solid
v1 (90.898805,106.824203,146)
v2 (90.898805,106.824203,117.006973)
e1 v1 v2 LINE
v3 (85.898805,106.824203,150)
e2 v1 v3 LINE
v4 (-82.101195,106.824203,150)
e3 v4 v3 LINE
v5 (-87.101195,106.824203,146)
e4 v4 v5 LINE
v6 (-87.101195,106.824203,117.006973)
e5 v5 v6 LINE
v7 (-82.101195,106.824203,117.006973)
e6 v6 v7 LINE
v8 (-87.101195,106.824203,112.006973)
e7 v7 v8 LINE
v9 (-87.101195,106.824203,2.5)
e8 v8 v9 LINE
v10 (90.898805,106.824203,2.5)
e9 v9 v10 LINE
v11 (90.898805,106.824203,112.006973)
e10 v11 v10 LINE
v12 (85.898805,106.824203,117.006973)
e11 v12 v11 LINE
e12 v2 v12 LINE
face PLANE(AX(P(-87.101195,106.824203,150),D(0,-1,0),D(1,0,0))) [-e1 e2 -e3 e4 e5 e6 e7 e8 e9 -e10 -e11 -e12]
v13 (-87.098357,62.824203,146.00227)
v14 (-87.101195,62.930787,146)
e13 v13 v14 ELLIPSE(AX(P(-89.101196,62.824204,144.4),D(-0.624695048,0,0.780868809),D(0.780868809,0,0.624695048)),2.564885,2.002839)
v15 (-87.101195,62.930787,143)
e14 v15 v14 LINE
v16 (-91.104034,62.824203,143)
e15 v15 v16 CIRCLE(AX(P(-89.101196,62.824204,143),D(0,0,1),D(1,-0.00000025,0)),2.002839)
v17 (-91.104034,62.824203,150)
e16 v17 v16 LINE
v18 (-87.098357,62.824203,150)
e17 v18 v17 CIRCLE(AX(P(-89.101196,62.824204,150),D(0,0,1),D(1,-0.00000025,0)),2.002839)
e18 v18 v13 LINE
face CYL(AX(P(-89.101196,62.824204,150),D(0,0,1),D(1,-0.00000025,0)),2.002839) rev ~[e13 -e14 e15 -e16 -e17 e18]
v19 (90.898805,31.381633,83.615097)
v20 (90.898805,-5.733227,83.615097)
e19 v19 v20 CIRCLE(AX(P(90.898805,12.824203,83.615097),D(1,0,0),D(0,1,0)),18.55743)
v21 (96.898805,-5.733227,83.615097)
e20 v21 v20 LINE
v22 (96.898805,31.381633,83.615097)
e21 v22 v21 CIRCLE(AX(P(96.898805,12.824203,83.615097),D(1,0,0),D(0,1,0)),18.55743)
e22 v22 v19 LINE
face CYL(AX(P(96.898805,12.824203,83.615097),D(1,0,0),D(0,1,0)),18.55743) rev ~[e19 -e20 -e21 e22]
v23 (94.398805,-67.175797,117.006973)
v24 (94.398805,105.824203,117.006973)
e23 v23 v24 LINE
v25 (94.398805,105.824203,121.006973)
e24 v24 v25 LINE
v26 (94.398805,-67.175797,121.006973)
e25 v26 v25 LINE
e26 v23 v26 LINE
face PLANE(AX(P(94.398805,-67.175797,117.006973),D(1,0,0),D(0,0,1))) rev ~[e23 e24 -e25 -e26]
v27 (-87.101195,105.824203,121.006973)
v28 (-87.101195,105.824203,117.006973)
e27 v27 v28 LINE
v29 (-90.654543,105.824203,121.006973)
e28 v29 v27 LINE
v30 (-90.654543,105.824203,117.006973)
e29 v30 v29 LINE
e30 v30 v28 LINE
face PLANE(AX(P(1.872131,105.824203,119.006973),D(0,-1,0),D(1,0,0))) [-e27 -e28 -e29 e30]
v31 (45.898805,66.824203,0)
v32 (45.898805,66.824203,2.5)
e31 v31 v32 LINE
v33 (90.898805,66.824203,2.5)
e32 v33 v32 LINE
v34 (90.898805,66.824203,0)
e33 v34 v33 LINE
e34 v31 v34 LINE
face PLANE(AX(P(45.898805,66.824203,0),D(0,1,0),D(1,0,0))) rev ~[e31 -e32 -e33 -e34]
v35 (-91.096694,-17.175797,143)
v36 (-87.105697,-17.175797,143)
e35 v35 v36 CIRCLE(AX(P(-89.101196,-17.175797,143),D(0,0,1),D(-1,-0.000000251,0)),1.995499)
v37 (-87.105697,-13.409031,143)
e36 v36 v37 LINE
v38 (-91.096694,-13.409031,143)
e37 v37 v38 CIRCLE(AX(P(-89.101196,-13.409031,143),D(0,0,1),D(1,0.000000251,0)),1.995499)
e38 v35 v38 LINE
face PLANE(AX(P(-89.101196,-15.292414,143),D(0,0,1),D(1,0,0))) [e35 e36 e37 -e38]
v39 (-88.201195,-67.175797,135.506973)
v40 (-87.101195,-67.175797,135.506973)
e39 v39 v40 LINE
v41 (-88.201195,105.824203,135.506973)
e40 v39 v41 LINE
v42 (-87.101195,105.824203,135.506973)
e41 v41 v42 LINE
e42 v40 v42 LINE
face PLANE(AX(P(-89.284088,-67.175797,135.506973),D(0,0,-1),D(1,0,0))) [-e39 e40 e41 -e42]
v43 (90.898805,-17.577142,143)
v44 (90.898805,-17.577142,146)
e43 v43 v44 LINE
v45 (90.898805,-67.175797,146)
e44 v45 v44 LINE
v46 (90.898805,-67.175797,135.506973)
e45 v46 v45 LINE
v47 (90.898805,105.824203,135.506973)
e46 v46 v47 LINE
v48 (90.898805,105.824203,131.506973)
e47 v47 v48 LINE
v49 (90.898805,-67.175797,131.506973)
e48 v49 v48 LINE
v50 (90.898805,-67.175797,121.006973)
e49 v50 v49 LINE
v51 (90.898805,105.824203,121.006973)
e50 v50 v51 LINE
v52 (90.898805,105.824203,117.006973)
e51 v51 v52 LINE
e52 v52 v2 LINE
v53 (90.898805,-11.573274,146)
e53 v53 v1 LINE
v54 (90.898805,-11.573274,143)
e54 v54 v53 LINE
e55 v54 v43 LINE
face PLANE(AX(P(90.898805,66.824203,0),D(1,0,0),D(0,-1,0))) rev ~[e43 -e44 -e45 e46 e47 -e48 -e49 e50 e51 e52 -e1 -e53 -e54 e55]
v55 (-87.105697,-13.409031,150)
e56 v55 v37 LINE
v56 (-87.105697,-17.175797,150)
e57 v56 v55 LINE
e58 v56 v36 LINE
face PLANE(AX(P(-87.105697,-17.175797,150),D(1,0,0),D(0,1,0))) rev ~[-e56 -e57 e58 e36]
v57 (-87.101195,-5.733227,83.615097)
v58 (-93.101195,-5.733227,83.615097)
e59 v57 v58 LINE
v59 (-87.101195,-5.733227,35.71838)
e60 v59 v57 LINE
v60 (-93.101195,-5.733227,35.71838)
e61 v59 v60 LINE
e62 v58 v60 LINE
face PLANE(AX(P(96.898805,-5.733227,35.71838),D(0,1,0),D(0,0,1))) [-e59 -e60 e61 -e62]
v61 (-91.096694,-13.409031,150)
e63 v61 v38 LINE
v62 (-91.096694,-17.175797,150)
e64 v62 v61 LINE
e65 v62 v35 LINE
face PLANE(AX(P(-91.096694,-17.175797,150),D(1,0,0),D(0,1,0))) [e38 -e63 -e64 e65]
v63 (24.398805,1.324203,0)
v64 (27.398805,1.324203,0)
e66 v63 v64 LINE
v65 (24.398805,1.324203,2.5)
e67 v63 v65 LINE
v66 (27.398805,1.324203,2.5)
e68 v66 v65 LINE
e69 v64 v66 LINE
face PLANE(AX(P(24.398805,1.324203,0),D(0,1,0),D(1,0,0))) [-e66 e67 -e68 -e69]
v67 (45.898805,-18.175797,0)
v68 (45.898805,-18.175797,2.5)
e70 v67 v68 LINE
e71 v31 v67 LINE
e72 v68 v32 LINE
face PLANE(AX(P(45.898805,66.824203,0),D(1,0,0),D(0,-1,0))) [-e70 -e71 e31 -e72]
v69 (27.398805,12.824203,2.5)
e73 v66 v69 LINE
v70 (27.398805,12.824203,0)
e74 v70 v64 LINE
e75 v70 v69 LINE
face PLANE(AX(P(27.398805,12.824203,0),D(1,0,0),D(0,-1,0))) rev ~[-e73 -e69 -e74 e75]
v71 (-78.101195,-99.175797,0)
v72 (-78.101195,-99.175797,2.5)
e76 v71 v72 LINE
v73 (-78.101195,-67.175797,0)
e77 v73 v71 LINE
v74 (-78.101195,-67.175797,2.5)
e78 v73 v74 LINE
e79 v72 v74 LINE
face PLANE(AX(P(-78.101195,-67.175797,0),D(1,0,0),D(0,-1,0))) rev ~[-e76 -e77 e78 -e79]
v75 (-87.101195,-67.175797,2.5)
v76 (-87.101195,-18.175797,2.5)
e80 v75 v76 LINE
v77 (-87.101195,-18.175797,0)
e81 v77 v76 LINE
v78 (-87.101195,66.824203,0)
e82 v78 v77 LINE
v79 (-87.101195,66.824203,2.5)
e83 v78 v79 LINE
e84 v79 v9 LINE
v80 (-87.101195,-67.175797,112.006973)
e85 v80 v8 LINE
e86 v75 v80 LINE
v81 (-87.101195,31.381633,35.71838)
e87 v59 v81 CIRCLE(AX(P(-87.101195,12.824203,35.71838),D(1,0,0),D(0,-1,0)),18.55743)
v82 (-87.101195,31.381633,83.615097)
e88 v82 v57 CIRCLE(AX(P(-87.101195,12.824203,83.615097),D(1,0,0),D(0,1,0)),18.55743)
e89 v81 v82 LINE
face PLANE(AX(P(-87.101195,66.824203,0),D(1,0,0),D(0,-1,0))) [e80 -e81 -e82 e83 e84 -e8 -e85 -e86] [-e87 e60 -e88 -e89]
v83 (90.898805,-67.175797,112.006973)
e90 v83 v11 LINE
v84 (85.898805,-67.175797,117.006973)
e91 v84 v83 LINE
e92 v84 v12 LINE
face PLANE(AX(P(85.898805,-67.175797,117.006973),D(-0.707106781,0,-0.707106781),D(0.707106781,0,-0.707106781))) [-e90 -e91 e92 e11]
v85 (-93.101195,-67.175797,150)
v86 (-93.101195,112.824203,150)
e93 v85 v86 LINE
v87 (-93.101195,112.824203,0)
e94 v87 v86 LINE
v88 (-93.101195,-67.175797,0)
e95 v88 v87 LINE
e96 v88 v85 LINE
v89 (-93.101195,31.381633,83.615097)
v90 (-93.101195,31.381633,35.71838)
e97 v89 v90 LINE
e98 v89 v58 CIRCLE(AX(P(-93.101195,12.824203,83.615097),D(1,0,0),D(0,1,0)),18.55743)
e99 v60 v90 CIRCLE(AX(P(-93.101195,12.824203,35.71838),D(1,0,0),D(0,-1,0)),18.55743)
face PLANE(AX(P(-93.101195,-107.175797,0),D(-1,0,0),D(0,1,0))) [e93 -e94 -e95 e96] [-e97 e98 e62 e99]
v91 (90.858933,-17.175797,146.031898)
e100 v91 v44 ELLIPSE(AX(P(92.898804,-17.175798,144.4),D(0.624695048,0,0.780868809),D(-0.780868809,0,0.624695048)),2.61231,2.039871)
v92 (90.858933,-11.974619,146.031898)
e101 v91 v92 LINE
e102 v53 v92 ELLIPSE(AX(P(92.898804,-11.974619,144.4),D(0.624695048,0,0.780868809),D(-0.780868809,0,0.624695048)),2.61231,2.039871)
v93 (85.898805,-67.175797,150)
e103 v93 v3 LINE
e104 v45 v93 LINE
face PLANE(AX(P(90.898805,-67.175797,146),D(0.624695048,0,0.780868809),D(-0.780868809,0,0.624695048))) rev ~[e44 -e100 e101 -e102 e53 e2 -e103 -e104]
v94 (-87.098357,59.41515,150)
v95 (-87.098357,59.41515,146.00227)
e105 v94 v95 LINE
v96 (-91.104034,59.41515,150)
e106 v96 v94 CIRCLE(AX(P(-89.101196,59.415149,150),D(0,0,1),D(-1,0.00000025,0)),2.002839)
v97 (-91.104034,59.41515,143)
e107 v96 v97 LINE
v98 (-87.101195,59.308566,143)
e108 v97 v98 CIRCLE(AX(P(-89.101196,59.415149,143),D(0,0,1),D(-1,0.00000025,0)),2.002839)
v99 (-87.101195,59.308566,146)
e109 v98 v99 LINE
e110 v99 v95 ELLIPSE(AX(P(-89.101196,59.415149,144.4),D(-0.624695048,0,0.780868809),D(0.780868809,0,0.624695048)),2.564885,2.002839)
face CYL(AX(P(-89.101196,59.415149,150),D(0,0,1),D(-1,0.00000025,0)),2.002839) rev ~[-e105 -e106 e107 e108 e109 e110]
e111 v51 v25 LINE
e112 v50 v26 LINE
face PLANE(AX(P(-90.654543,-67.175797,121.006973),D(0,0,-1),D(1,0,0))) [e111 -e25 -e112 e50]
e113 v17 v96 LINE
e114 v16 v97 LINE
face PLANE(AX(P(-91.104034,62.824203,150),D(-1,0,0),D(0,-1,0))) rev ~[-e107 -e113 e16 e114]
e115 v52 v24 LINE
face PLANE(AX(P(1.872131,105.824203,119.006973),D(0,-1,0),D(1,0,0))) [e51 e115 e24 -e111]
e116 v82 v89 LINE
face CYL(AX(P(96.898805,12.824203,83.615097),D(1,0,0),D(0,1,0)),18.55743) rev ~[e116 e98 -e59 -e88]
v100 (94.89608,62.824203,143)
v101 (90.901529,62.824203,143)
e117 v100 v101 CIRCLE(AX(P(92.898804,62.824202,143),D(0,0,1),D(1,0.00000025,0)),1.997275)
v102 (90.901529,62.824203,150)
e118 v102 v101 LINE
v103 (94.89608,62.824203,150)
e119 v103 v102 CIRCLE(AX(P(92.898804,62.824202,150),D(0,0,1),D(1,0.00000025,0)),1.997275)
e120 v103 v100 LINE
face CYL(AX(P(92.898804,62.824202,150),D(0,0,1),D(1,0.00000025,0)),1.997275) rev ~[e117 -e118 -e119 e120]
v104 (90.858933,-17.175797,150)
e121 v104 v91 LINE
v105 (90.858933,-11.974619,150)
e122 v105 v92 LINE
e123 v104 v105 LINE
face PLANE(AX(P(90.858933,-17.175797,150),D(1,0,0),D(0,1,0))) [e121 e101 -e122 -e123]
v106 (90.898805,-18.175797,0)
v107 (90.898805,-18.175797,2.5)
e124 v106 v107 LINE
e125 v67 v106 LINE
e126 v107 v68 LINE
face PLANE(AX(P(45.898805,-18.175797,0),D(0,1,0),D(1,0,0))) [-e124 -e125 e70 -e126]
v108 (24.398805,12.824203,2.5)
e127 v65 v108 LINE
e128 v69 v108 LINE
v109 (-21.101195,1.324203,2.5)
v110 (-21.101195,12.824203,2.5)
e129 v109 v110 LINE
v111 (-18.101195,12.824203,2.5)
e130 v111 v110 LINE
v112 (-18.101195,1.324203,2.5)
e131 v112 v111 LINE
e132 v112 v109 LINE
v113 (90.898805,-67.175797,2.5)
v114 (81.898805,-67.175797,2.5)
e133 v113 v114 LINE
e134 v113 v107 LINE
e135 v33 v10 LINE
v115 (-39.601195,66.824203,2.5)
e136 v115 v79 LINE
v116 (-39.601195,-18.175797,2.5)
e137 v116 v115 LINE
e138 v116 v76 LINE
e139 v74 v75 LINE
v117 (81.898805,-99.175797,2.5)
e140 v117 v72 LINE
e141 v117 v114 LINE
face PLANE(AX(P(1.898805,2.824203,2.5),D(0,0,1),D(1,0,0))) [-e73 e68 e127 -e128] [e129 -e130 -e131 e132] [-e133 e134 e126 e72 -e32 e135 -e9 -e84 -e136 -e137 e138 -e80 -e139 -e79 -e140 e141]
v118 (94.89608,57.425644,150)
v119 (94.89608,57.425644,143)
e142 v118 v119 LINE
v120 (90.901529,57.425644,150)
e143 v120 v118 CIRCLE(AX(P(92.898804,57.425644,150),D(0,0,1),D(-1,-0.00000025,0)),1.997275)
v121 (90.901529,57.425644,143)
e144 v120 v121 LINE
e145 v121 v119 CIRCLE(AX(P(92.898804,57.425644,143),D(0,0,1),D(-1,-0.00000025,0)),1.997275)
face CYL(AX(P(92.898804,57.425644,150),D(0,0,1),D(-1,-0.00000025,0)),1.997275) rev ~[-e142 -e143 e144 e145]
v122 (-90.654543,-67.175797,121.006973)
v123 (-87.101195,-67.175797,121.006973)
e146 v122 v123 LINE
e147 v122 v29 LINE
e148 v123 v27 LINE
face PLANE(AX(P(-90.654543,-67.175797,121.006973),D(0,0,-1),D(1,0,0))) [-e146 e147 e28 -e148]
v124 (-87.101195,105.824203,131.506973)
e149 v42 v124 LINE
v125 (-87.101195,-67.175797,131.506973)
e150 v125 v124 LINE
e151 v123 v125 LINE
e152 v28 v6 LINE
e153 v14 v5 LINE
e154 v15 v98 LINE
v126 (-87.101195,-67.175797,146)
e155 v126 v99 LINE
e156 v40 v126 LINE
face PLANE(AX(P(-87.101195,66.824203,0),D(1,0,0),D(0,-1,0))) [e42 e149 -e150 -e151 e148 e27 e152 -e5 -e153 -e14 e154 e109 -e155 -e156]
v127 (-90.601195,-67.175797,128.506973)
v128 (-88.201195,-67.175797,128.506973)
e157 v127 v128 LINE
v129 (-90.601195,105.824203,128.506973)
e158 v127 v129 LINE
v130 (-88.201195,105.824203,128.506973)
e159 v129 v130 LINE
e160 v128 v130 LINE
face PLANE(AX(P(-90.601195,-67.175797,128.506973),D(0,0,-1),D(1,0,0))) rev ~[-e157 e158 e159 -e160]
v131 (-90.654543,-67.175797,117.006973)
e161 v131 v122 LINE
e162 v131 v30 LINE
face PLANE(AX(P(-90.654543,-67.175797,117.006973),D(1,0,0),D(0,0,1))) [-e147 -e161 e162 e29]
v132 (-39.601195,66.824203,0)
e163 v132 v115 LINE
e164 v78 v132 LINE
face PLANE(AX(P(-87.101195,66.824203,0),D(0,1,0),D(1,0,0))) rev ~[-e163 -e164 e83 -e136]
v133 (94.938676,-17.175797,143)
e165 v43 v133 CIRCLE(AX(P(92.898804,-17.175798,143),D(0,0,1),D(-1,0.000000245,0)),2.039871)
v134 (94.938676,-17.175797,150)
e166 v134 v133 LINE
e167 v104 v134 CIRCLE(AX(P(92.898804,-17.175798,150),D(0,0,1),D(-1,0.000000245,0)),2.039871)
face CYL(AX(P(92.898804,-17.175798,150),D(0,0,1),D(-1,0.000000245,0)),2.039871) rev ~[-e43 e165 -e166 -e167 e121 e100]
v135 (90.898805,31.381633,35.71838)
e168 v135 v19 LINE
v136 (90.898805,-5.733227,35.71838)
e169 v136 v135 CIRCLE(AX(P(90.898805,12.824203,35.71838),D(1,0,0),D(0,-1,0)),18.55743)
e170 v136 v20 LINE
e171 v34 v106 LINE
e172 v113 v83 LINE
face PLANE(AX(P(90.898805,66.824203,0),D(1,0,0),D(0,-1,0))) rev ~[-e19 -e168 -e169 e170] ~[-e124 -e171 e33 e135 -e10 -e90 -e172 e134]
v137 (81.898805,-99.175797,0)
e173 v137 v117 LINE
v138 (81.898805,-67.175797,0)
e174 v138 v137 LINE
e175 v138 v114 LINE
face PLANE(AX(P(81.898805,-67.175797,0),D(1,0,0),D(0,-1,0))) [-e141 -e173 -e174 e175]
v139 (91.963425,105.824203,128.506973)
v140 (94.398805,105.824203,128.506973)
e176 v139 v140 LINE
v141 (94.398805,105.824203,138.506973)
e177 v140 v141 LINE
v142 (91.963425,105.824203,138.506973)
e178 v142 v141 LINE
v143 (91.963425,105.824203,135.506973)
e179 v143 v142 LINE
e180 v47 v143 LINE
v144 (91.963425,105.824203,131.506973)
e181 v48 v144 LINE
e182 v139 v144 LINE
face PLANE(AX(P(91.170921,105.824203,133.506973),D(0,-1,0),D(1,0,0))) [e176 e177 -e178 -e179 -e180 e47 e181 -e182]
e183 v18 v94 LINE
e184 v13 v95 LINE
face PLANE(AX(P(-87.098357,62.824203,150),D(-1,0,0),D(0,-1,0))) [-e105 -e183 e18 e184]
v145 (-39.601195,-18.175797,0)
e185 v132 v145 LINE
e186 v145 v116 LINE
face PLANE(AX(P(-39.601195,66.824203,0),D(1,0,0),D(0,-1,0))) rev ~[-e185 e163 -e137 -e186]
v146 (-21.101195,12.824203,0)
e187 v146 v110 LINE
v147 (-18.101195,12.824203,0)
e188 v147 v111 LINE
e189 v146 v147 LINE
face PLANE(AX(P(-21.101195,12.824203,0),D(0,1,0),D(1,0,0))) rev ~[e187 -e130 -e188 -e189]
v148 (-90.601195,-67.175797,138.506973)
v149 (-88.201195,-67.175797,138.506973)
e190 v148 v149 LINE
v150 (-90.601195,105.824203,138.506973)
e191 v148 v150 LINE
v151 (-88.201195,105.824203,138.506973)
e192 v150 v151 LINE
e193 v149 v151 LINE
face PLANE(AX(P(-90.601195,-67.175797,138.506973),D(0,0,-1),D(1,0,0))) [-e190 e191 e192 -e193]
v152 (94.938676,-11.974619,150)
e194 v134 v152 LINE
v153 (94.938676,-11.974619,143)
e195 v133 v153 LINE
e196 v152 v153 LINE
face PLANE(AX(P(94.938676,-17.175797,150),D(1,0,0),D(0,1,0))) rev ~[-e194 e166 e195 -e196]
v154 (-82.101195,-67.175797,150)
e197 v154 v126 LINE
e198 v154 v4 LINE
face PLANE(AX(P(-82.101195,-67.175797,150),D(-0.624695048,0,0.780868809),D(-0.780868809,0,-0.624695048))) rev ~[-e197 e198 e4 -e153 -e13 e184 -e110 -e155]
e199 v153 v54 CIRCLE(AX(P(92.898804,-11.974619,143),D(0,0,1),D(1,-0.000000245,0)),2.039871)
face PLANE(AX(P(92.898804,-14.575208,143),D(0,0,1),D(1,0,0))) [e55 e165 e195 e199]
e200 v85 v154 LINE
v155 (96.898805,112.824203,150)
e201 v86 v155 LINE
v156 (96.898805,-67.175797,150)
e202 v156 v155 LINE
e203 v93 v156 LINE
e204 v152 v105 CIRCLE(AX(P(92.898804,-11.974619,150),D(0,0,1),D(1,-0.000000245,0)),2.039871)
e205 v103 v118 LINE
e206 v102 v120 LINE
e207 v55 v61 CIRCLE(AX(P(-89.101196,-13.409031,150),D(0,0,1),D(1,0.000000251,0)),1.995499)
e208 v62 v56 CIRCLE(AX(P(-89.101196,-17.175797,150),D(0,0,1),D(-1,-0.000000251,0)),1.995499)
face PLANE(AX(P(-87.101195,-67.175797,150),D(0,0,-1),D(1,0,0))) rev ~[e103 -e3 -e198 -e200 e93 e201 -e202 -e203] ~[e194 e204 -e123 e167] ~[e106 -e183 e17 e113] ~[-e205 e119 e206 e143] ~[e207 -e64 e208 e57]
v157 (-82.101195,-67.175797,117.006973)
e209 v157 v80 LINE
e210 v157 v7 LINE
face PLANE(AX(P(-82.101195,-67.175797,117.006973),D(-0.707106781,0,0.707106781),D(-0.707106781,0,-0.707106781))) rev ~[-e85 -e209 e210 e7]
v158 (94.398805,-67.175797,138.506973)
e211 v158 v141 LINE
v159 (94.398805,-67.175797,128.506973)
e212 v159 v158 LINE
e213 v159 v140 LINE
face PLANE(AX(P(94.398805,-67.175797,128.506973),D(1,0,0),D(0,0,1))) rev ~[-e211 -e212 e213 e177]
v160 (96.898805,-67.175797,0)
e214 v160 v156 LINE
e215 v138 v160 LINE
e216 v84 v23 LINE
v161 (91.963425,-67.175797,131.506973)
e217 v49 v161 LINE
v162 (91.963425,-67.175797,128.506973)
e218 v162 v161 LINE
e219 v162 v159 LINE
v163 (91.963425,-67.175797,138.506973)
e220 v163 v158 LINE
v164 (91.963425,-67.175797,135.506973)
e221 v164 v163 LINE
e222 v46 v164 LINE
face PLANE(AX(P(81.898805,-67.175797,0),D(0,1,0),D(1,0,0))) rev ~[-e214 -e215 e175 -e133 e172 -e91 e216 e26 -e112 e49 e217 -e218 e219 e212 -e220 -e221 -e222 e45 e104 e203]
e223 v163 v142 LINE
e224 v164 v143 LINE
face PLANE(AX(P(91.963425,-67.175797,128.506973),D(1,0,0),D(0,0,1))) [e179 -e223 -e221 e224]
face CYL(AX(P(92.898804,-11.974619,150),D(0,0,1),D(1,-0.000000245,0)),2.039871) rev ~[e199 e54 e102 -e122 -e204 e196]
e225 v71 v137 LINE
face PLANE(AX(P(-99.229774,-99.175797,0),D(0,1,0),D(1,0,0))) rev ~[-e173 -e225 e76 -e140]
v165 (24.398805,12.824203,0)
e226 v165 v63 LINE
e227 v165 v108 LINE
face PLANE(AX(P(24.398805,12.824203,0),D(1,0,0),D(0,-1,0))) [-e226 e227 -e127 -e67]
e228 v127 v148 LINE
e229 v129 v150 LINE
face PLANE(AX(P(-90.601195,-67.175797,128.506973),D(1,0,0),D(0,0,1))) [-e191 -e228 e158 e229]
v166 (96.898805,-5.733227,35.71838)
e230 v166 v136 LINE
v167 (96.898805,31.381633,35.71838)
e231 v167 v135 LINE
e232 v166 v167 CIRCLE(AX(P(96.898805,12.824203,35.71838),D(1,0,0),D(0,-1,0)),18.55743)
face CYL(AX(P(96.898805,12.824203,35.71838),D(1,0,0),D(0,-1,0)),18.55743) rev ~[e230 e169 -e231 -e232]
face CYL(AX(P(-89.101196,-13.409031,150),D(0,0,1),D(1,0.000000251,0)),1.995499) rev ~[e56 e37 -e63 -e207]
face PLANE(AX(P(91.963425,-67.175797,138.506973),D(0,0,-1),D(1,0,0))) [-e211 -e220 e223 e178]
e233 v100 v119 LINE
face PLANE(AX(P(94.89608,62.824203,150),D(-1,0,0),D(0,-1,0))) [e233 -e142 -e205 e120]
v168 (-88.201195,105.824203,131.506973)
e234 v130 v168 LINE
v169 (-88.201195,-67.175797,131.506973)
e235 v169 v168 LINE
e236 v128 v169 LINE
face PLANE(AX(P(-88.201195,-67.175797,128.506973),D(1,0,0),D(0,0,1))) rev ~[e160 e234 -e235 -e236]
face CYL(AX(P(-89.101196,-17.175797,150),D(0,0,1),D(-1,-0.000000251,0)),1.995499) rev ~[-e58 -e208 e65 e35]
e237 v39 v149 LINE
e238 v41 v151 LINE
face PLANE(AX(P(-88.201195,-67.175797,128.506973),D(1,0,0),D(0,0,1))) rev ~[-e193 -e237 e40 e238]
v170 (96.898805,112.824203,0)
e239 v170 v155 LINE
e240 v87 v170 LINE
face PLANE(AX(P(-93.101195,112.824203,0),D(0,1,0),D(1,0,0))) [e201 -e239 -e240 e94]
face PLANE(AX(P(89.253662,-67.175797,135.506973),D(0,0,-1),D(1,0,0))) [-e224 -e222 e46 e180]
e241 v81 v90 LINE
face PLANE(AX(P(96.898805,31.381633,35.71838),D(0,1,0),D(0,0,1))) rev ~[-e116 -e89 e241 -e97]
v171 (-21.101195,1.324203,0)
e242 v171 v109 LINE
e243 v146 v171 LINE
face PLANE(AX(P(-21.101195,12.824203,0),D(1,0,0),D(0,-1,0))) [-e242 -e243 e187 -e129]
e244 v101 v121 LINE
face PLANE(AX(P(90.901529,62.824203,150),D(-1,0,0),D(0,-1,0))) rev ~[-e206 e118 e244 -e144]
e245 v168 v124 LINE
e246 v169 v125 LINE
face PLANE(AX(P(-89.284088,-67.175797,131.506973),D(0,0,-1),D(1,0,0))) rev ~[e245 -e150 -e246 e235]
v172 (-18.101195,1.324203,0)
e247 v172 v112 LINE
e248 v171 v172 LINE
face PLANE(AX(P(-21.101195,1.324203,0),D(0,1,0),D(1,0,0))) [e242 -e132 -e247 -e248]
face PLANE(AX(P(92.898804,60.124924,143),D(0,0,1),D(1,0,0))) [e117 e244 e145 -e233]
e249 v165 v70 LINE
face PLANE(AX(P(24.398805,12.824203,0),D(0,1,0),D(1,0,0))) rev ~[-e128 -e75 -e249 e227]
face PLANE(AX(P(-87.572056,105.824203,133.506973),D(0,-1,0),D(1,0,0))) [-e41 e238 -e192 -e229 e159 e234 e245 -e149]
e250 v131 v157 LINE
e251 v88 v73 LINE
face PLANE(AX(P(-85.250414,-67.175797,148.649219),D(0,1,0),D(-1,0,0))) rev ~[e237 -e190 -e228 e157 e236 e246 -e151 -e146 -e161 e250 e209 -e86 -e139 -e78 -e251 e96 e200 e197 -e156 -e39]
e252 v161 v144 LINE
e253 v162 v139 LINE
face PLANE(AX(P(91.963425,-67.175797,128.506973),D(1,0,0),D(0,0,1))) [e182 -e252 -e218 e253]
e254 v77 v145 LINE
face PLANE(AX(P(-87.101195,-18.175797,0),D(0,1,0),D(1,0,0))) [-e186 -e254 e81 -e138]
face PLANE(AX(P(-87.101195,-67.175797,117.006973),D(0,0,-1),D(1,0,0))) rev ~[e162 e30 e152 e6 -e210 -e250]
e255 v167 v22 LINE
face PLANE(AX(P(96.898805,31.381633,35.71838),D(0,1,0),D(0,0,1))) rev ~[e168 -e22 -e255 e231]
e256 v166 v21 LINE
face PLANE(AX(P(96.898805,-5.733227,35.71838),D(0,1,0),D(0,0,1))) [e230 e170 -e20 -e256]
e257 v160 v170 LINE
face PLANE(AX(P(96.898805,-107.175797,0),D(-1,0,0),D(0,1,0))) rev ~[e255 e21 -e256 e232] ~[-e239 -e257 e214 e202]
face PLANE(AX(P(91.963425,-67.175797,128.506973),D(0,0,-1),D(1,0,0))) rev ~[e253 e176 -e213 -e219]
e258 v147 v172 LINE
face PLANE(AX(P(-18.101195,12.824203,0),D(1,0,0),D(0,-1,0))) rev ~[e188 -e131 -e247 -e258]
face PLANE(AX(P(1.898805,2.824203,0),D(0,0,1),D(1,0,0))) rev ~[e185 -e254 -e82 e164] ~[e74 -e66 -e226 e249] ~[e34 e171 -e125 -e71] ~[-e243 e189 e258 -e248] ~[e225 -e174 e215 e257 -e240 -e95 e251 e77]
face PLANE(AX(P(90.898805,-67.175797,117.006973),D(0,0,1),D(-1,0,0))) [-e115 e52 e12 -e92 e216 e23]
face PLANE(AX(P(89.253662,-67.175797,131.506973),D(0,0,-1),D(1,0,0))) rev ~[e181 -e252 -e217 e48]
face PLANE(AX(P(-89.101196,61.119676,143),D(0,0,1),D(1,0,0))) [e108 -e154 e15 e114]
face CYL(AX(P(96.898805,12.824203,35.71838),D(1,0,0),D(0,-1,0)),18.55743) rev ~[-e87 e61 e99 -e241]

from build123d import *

# Parameters (mm, degrees)
SKETCH_W        = 190
SKETCH_H        = 220
PAD_DEPTH       = 150
SKETCH001_W     = 178
SKETCH001_H     = 208
POCKET_DEPTH    = 147.5
SKETCH002_W     = 45
SKETCH002_H     = 85
SKETCH002_W_2   = 47.5
POCKET001_DEPTH = 100
SKETCH003_W     = 3
SKETCH003_H     = 11.5
POCKET002_DEPTH = 100
SKETCH004_W     = 15
SKETCH004_H     = 40
POCKET003_DEPTH = 150
SKETCH005_W     = 194.070648
SKETCH005_H     = 26.911476
POCKET004_DEPTH = 150.001
SKETCH006_W     = 2.43538
SKETCH006_H     = 10
SKETCH006_W_2   = 2.4
POCKET005_DEPTH = 173
SKETCH007_W     = 3.424065
SKETCH007_H     = 4
SKETCH007_W_2   = 3.834519
POCKET006_DEPTH = 173
SKETCH008_W     = 185.053348
SKETCH008_H     = 4
POCKET007_DEPTH = 173
PAD001_DEPTH    = 174
PAD002_DEPTH    = 174
POCKET008_DEPTH = 7
POCKET009_DEPTH = 200


with BuildPart() as part:
    # Sketch → Pad (new body)
    with BuildSketch(Plane.XY):
        with Locations((1.898805, 2.824203)):
            Rectangle(SKETCH_W, SKETCH_H)
    extrude(amount=PAD_DEPTH)

    # Sketch001 (on Face6 of Pad) → Pocket (cut)
    with BuildSketch(Plane.XY.offset(150)):
        with Locations((1.898805, 2.824203)):
            Rectangle(SKETCH001_W, SKETCH001_H)
    extrude(amount=-POCKET_DEPTH, mode=Mode.SUBTRACT)

    # Sketch002 (on Face4 of Pocket) → Pocket001 (cut)
    with BuildSketch(Plane(origin=(0, 0, 0), x_dir=(1, 0, 0), z_dir=(0, 0, -1))):
        with Locations((68.398805, -24.324203)):
            Rectangle(SKETCH002_W, SKETCH002_H)
        with Locations((-63.351195, -24.324203)):
            Rectangle(SKETCH002_W_2, SKETCH002_H)
    extrude(amount=-POCKET001_DEPTH, mode=Mode.SUBTRACT)

    # Sketch003 (on Face4 of Pocket001) → Pocket002 (cut)
    with BuildSketch(Plane(origin=(0, 0, 0), x_dir=(1, 0, 0), z_dir=(0, 0, -1))):
        with Locations((-19.601195, -7.074203)):
            Rectangle(SKETCH003_W, SKETCH003_H)
        with Locations((25.898805, -7.074203)):
            Rectangle(SKETCH003_W, SKETCH003_H)
    extrude(amount=-POCKET002_DEPTH, mode=Mode.SUBTRACT)

    # Sketch004 (on Face4 of Pocket002) → Pocket003 (cut)
    with BuildSketch(Plane(origin=(0, 0, 0), x_dir=(1, 0, 0), z_dir=(0, 0, -1))):
        with Locations((-85.601195, 87.175797)):
            Rectangle(SKETCH004_W, SKETCH004_H)
        with Locations((89.398805, 87.175797)):
            Rectangle(SKETCH004_W, SKETCH004_H)
    extrude(amount=-POCKET003_DEPTH, mode=Mode.SUBTRACT)

    # Sketch005 (on Face2 of Pocket003) → Pocket004 (cut, through all)
    with BuildSketch(Plane(origin=(0, 0, 0), x_dir=(1, 0, 0), z_dir=(0, 0, -1))):
        with Locations((-2.19445, 112.631535)):
            Rectangle(SKETCH005_W, SKETCH005_H)
    extrude(amount=-POCKET004_DEPTH, mode=Mode.SUBTRACT)

    # Sketch006 (on DatumPlane) → Pocket005 (cut)
    with BuildSketch(Plane.XZ.offset(67.175797)):
        with Locations((93.181115, 133.506973)):
            Rectangle(SKETCH006_W, SKETCH006_H)
        with Locations((-89.401195, 133.506973)):
            Rectangle(SKETCH006_W_2, SKETCH006_H)
    extrude(amount=-POCKET005_DEPTH, mode=Mode.SUBTRACT)

    # Sketch007 (on DatumPlane) → Pocket006 (cut)
    with BuildSketch(Plane.XZ.offset(67.175797)):
        with Locations((-87.572056, 133.506973)):
            Rectangle(SKETCH007_W, SKETCH007_H)
        with Locations((91.170921, 133.506973)):
            Rectangle(SKETCH007_W_2, SKETCH007_H)
    extrude(amount=-POCKET006_DEPTH, mode=Mode.SUBTRACT)

    # Sketch008 (on DatumPlane) → Pocket007 (cut)
    with BuildSketch(Plane.XZ.offset(67.175797)):
        with Locations((1.872131, 119.006973)):
            Rectangle(SKETCH008_W, SKETCH008_H)
    extrude(amount=-POCKET007_DEPTH, mode=Mode.SUBTRACT)

    # Sketch009 (on DatumPlane) → Pad001 (join)
    with BuildSketch(Plane.XZ.offset(67.175797)):
        Polygon((-87.101195, 117.006973), (-82.101195, 117.006973), (-87.101195, 112.006973), align=None)
        Polygon((90.898805, 117.006973), (85.898805, 117.006973), (90.898805, 112.006973), align=None)
    extrude(amount=-PAD001_DEPTH)

    # Sketch011 (on DatumPlane) → Pad002 (join)
    with BuildSketch(Plane.XZ.offset(67.175797)):
        Polygon((-87.101195, 150), (-82.101195, 150), (-87.101195, 146), align=None)
        Polygon((90.898805, 150), (90.898805, 146), (85.898805, 150), align=None)
    extrude(amount=-PAD002_DEPTH)

    # Sketch013 (on DatumPlane) → Pocket008 (cut)
    with BuildSketch(Plane.XY.offset(150)):
        with BuildLine():
            ThreePointArc((-87.098357, 62.824203), (-89.101195, 64.827042), (-91.104034, 62.824203))
            Line((-91.104034, 62.824203), (-91.104034, 59.41515))
            ThreePointArc((-91.104034, 59.41515), (-89.101195, 57.412311), (-87.098357, 59.41515))
            Line((-87.098357, 62.824203), (-87.098357, 59.41515))
        make_face()
        with BuildLine():
            ThreePointArc((-91.096694, -17.175797), (-89.101195, -19.171295), (-87.105697, -17.175797))
            Line((-87.105697, -17.175797), (-87.105697, -13.409031))
            ThreePointArc((-87.105697, -13.409031), (-89.101195, -11.413533), (-91.096694, -13.409031))
            Line((-91.096694, -17.175797), (-91.096694, -13.409031))
        make_face()
        with BuildLine():
            ThreePointArc((90.858933, -17.175797), (92.898805, -19.215669), (94.938676, -17.175797))
            Line((94.938676, -17.175797), (94.938676, -11.974619))
            ThreePointArc((94.938676, -11.974619), (92.898805, -9.934747), (90.858933, -11.974619))
            Line((90.858933, -17.175797), (90.858933, -11.974619))
        make_face()
        with BuildLine():
            ThreePointArc((94.89608, 62.824203), (92.898805, 64.821478), (90.901529, 62.824203))
            Line((90.901529, 62.824203), (90.901529, 57.425644))
            ThreePointArc((90.901529, 57.425644), (92.898805, 55.428369), (94.89608, 57.425644))
            Line((94.89608, 62.824203), (94.89608, 57.425644))
        make_face()
    extrude(amount=-POCKET008_DEPTH, mode=Mode.SUBTRACT)

    # Sketch019 (on Face6 of Pocket008) → Pocket009 (cut)
    with BuildSketch(Plane.YZ.offset(96.898805)):
        with BuildLine():
            ThreePointArc((-5.733227, 35.71838), (12.824203, 17.16095), (31.381633, 35.71838))
            Line((31.381633, 35.71838), (31.381633, 83.615097))
            ThreePointArc((31.381633, 83.615097), (12.824203, 102.172527), (-5.733227, 83.615097))
            Line((-5.733227, 35.71838), (-5.733227, 83.615097))
        make_face()
    extrude(amount=-POCKET009_DEPTH, mode=Mode.SUBTRACT)


solid = part.part
